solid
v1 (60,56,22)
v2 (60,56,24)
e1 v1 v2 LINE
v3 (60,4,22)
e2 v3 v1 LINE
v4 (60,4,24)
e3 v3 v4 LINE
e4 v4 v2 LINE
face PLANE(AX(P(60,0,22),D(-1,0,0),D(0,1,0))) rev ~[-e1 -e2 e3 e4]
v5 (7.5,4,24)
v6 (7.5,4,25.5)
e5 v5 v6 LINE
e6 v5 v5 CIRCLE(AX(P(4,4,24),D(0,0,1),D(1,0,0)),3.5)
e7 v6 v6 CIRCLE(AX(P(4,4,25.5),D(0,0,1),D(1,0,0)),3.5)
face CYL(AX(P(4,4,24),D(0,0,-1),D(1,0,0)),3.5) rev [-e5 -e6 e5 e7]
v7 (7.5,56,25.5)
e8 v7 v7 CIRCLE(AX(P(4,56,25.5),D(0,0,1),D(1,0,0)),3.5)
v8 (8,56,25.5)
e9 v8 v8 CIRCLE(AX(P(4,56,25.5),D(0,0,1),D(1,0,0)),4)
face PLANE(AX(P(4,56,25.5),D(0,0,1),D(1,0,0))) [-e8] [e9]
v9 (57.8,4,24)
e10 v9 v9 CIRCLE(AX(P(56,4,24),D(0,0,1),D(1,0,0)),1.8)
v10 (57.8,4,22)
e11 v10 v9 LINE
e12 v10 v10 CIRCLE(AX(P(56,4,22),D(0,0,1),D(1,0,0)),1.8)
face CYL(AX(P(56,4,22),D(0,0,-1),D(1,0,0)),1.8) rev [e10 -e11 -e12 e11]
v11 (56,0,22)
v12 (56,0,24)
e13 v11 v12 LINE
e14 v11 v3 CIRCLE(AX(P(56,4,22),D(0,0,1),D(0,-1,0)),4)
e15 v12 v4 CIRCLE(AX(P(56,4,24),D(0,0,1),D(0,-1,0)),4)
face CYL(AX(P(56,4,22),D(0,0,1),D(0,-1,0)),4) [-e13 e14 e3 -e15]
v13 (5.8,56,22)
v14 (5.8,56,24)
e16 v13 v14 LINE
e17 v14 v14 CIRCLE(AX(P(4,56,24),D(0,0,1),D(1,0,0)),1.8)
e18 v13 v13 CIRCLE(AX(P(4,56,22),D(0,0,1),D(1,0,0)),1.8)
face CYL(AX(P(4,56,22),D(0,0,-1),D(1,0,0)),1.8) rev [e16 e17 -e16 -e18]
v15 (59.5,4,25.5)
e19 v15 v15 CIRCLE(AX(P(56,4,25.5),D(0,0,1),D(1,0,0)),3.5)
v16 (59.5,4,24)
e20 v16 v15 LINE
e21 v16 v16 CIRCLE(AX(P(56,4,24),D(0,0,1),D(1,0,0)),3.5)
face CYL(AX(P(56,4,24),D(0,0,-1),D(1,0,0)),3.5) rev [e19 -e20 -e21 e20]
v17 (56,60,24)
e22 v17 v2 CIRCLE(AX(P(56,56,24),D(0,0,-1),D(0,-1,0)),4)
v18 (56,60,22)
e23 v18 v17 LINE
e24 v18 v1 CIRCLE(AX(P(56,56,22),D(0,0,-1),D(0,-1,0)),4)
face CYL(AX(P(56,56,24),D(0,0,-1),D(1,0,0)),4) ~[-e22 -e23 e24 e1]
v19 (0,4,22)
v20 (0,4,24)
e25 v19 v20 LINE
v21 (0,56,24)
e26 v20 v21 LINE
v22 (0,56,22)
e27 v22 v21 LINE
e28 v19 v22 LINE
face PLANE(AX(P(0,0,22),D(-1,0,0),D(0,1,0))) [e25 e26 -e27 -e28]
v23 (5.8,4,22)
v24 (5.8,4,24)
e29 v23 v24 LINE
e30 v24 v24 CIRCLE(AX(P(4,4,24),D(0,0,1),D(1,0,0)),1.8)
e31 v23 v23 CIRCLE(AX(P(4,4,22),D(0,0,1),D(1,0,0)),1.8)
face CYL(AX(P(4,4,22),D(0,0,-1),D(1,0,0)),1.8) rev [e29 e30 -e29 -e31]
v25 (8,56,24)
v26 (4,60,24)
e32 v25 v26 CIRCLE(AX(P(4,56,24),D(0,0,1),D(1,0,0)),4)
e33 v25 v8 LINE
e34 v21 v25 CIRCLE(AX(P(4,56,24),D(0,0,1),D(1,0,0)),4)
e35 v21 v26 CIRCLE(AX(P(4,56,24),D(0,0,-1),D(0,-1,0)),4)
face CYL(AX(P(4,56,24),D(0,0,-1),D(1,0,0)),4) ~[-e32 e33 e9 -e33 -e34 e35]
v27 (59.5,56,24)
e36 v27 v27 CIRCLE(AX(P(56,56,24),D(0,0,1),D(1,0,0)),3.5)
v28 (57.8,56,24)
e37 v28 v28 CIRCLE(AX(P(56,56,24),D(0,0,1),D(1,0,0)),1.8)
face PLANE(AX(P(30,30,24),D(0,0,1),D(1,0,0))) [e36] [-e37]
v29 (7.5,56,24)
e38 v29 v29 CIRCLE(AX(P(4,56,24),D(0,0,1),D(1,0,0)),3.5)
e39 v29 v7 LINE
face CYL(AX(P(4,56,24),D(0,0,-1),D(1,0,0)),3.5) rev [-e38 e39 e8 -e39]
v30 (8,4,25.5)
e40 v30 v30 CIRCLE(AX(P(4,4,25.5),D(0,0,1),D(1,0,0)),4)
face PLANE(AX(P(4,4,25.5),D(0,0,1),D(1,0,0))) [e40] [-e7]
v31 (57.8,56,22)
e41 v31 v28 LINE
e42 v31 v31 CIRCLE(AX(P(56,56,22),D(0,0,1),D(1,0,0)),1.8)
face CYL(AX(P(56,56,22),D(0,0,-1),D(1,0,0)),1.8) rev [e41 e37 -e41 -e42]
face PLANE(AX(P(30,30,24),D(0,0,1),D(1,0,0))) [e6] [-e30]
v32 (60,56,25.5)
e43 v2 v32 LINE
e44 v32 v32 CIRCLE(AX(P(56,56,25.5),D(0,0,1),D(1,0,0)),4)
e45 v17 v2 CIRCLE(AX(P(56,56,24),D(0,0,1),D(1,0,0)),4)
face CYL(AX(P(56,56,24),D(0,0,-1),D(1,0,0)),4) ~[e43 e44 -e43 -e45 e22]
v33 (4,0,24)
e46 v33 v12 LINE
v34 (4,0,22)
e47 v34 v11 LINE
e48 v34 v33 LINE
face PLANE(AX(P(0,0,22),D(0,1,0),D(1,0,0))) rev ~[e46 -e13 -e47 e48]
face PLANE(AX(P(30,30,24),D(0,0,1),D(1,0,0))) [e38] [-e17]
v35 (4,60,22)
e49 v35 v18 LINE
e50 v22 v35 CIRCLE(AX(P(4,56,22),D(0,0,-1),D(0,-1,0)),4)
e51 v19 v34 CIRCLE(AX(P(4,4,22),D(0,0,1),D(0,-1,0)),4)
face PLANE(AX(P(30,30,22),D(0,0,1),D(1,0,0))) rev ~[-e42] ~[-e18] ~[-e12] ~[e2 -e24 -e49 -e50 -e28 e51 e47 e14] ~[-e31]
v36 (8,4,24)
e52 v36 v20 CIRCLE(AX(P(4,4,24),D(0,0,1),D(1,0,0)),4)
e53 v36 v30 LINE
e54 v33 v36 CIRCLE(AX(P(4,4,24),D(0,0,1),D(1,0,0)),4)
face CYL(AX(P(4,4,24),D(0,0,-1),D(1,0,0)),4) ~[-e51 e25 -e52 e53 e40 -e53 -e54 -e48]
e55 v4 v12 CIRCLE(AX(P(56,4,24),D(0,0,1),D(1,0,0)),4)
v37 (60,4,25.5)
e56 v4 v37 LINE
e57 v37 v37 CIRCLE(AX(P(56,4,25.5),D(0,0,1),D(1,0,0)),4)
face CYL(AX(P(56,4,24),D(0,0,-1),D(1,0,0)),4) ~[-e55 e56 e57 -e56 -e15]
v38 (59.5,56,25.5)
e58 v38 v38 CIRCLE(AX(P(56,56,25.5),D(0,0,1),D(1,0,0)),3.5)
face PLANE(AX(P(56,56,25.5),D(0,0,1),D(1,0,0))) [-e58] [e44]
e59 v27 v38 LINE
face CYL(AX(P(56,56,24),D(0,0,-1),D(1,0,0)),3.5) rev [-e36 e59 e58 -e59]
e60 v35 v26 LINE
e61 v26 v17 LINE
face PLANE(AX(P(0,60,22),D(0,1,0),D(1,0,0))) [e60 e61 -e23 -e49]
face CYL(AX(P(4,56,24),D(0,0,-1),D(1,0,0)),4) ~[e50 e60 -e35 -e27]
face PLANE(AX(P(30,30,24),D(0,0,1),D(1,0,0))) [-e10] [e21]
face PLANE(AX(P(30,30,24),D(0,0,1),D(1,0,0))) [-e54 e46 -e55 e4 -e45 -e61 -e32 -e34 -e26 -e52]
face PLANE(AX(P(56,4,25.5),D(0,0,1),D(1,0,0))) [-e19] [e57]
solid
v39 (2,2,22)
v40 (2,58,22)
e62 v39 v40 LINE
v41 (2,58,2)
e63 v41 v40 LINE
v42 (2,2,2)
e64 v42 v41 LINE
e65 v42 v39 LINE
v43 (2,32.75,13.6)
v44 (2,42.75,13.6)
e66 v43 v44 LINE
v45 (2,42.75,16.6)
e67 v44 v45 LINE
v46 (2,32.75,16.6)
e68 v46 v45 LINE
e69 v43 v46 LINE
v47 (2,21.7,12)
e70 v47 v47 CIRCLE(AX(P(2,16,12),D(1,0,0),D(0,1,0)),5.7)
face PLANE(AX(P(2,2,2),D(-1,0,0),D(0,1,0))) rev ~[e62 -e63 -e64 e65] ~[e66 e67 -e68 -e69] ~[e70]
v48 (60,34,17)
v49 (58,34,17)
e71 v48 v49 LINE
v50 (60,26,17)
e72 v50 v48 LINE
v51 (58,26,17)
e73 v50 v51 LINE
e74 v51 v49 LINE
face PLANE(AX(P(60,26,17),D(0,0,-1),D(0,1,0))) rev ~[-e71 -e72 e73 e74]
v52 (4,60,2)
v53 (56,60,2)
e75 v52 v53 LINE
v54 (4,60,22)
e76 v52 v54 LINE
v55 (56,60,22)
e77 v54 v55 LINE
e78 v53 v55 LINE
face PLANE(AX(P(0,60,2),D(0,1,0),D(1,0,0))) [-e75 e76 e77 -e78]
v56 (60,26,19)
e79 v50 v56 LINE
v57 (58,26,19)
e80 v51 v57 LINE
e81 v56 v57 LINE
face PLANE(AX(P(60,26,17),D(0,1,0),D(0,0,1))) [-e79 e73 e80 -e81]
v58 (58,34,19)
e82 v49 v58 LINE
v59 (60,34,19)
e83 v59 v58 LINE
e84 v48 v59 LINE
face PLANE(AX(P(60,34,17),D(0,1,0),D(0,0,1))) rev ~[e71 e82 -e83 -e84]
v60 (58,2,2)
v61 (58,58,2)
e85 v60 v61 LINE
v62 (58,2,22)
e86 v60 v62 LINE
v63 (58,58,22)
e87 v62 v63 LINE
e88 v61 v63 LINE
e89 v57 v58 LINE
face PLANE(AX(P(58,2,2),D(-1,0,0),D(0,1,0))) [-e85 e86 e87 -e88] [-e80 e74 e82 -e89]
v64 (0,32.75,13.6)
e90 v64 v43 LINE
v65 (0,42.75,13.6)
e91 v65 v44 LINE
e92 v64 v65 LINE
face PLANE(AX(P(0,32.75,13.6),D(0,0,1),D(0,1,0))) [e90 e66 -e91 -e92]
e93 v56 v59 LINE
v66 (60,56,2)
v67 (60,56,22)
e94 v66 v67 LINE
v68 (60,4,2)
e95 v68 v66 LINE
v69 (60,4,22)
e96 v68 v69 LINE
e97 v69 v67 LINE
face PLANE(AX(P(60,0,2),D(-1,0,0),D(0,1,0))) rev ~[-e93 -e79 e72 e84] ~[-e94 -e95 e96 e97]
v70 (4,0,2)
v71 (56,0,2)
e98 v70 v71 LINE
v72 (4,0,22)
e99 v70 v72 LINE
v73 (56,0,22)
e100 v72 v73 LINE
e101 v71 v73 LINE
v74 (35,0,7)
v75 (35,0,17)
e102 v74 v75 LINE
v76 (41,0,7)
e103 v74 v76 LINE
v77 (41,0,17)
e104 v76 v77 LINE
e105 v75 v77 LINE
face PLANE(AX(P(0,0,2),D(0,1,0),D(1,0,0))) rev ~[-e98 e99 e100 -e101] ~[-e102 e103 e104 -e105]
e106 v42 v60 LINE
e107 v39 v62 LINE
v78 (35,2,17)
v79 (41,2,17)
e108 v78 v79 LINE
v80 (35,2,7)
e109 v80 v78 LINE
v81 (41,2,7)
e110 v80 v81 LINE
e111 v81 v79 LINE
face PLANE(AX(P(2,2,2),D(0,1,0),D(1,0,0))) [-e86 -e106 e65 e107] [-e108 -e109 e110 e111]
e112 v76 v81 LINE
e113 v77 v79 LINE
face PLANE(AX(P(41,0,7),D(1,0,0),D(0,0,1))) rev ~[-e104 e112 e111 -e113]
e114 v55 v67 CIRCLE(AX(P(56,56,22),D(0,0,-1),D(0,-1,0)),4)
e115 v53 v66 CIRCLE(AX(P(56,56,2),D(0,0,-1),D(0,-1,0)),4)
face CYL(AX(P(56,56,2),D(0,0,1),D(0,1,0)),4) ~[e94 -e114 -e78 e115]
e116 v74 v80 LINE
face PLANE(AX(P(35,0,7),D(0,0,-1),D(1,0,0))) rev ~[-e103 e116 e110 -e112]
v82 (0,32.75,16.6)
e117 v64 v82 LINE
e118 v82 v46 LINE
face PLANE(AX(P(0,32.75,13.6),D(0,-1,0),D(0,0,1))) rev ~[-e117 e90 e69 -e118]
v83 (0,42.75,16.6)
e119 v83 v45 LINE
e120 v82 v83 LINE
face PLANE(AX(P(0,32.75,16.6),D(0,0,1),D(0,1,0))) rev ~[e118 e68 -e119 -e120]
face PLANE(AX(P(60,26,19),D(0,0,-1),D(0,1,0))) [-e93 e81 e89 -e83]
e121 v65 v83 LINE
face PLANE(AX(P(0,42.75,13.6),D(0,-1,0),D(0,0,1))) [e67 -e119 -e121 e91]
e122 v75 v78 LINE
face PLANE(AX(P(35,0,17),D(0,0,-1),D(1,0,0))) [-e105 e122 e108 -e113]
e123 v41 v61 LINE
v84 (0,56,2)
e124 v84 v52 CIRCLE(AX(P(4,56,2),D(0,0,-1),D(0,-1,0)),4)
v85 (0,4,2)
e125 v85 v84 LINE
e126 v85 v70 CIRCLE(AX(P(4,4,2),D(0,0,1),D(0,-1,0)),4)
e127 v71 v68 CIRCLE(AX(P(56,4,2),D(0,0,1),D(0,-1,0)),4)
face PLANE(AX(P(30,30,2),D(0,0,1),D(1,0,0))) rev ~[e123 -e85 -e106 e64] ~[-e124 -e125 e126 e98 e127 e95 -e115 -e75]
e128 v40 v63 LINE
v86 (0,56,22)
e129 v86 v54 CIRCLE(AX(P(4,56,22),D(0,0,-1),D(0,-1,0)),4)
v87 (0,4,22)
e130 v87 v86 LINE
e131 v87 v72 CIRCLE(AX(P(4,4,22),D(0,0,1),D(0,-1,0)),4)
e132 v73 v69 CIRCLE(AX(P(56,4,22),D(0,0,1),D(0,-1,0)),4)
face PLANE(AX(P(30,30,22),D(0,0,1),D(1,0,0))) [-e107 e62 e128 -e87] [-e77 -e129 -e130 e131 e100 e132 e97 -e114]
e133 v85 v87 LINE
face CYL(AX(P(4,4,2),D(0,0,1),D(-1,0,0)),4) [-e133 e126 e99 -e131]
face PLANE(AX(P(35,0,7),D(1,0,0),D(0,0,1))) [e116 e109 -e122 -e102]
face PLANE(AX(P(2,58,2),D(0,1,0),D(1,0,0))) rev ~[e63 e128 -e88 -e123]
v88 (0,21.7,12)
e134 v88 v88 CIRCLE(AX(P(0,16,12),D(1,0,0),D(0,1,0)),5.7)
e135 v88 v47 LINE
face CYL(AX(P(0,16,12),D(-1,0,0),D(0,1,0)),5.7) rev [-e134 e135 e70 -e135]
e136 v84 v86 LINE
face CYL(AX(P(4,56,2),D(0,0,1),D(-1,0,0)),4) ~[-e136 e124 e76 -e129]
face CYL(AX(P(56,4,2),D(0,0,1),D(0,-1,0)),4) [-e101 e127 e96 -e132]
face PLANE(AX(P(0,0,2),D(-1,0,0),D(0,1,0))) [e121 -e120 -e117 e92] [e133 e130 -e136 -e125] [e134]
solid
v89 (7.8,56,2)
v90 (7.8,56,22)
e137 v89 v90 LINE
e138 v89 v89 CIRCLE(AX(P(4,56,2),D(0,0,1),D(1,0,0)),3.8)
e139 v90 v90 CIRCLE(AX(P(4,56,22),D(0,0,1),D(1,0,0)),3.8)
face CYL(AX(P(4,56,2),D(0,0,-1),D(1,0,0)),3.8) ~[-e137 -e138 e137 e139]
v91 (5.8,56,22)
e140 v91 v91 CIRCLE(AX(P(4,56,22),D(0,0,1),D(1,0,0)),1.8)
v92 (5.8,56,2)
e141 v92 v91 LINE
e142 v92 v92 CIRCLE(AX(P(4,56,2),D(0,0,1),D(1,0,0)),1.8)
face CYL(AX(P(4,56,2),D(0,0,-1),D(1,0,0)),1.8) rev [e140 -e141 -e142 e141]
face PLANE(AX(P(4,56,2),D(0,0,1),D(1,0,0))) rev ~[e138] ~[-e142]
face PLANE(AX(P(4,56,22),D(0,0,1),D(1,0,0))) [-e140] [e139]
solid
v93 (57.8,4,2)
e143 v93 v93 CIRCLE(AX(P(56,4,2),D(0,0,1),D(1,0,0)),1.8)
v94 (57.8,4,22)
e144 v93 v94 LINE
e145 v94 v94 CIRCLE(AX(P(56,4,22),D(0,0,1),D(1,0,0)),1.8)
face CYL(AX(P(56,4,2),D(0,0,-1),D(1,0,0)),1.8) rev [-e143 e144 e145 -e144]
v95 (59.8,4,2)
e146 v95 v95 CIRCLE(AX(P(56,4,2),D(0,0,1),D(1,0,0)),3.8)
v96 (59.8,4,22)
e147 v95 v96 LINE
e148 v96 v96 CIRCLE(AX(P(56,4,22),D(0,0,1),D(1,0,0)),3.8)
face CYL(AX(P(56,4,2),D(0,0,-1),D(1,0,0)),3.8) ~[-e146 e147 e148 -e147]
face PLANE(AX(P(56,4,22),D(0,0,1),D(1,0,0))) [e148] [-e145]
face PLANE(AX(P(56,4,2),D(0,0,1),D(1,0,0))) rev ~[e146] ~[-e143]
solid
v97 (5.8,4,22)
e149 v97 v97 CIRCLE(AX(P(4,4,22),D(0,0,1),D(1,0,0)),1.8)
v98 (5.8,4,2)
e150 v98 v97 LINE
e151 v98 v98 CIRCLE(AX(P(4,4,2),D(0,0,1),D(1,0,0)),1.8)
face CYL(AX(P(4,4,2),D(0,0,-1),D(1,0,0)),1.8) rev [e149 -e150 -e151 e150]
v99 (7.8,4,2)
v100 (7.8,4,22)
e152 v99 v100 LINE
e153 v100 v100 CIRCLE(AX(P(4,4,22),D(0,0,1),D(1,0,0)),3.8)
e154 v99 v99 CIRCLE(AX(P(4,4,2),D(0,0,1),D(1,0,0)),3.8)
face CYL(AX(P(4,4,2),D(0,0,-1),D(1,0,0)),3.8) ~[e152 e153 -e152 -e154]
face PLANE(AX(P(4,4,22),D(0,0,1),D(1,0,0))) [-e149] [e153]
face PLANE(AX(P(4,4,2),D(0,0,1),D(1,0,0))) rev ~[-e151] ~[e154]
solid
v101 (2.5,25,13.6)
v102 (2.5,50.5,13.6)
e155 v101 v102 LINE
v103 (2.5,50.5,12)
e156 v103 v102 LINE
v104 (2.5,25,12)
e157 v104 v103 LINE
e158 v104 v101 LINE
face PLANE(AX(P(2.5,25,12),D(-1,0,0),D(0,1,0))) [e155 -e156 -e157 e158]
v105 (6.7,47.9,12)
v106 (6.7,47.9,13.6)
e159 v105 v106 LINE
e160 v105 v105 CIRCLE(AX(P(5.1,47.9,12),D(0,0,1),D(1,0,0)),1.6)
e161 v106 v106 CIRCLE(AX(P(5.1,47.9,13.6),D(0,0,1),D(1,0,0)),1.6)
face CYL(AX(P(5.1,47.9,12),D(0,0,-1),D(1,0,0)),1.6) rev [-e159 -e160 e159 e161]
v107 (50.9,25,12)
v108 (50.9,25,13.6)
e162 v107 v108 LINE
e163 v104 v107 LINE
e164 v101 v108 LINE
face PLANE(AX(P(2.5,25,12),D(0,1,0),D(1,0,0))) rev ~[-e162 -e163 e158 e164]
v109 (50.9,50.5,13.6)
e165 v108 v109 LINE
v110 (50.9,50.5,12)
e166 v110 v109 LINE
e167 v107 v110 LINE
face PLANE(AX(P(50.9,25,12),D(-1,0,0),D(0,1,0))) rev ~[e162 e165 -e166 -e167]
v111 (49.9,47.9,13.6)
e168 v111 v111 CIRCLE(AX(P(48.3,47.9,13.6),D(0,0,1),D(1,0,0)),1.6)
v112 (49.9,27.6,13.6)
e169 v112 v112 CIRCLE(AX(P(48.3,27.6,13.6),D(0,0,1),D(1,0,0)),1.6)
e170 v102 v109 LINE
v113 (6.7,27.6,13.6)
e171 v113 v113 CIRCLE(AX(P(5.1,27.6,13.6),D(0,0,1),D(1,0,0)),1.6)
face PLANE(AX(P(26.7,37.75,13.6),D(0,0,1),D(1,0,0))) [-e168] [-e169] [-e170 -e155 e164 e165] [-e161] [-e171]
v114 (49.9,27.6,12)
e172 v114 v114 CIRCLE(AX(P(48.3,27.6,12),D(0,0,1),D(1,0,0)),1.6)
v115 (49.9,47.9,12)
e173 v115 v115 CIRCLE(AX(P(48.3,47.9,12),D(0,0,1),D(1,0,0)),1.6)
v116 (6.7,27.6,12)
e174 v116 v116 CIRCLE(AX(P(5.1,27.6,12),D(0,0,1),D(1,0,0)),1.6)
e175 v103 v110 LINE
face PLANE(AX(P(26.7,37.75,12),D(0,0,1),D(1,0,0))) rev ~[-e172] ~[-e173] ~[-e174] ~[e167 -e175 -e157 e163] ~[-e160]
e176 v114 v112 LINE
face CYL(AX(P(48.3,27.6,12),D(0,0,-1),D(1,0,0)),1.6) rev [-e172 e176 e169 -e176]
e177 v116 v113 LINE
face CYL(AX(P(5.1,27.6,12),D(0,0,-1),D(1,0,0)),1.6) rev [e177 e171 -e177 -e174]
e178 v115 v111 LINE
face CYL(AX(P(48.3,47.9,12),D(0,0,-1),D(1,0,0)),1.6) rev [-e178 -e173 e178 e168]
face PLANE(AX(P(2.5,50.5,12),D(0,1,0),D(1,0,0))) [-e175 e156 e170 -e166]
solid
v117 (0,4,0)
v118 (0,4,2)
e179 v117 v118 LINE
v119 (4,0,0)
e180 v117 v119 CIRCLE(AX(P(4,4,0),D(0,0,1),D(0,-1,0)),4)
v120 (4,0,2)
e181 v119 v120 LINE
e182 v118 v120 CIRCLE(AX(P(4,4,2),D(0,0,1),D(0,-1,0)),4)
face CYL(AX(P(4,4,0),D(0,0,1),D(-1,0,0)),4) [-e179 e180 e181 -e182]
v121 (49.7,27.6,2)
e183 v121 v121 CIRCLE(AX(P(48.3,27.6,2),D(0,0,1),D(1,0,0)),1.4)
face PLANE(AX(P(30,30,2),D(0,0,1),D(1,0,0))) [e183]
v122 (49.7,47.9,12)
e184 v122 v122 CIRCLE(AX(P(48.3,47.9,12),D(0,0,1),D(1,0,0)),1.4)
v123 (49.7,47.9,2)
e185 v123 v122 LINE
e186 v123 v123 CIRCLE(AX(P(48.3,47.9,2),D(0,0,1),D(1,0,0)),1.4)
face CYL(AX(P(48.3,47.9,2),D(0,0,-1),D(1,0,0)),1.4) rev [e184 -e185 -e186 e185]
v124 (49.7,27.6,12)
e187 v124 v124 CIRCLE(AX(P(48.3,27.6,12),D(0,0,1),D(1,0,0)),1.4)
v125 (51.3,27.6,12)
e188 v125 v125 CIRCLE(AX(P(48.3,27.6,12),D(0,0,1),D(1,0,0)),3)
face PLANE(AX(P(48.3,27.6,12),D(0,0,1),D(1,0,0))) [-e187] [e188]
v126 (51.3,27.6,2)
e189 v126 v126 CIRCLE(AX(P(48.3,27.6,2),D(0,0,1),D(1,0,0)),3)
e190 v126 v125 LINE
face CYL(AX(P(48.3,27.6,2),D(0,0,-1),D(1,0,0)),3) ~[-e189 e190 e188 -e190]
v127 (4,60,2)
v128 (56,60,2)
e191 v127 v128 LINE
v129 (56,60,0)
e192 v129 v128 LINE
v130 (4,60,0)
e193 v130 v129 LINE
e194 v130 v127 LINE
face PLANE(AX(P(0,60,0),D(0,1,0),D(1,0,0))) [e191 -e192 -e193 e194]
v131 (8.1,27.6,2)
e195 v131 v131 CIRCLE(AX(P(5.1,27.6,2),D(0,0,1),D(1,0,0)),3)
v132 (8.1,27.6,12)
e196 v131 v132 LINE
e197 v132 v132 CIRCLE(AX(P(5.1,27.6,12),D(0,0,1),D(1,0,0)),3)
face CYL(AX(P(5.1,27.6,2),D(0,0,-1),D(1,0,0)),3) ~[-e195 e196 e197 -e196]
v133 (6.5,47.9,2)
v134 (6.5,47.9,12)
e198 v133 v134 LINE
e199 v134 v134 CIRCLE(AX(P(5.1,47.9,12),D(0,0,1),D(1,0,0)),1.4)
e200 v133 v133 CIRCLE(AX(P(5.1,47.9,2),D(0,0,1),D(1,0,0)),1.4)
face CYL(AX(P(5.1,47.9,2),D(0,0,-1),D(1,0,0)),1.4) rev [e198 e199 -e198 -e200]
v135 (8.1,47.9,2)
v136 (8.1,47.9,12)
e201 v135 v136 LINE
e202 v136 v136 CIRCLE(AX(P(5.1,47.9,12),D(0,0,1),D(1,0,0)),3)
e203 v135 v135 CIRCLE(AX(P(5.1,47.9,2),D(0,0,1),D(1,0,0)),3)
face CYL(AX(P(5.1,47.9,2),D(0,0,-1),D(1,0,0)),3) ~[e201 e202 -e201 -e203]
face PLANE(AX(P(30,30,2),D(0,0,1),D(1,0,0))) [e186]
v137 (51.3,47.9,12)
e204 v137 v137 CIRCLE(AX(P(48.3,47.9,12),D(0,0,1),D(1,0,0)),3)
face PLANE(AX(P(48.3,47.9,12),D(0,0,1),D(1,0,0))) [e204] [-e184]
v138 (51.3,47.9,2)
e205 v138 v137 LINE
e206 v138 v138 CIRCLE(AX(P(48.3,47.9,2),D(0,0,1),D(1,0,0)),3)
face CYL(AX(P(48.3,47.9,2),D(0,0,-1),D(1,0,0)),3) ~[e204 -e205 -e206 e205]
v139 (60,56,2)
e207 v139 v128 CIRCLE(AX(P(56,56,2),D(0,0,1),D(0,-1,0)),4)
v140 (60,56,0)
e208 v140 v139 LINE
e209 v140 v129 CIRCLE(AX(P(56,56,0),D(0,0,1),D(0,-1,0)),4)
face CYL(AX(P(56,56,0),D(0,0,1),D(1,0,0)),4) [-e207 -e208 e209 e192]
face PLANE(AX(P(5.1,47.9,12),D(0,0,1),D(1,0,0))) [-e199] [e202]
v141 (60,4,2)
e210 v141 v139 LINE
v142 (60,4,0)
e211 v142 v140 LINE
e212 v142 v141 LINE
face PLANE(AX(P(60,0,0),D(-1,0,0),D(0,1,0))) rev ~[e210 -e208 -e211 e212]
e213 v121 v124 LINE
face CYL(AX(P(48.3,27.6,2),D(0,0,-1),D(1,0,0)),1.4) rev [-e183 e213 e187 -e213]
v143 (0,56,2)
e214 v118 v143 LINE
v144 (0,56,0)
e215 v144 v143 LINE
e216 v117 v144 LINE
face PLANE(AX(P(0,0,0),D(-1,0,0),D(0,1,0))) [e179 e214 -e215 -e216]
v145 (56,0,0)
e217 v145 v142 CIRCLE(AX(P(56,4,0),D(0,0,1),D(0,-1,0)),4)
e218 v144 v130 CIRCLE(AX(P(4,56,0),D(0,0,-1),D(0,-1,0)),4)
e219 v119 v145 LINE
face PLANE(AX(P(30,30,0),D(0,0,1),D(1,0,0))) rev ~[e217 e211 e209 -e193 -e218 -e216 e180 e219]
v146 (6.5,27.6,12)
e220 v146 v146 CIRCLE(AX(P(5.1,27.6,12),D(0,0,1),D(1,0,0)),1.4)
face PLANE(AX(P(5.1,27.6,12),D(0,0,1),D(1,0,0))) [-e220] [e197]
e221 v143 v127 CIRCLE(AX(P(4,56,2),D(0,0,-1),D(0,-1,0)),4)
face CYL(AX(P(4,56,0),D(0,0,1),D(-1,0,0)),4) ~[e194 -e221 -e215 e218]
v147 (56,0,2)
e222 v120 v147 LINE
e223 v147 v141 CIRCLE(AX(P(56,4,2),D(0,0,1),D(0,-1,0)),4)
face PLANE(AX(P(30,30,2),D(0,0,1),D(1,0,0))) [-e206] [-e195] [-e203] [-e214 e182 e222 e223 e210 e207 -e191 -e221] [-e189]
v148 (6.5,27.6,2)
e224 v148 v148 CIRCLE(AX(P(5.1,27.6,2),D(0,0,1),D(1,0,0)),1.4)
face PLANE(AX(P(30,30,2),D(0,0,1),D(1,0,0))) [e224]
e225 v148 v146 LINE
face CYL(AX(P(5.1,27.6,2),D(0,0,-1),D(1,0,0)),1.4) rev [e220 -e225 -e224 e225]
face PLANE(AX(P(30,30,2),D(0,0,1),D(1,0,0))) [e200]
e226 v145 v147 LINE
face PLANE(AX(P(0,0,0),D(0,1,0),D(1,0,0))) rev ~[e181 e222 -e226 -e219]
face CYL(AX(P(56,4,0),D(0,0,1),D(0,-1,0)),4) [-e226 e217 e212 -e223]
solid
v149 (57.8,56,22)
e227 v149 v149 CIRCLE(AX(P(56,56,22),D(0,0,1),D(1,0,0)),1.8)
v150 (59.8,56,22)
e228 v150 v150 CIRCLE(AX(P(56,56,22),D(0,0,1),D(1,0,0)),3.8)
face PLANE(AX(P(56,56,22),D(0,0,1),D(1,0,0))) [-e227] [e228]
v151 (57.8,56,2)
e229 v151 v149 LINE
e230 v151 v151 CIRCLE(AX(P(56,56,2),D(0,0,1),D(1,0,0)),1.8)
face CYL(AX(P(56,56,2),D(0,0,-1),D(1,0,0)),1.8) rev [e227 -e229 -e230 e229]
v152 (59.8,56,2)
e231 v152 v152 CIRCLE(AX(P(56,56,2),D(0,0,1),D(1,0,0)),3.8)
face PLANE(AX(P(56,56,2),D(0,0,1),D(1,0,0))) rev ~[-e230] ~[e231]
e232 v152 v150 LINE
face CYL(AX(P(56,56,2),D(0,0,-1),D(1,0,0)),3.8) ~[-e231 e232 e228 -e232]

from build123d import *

# Parameters (mm, degrees)
SKETCH_W        = 48.4
SKETCH_H        = 25.5
SKETCH_R        = 1.6
PAD007_DEPTH    = 1.6
SKETCH001_W     = 60
SKETCH001_H     = 60
PAD_DEPTH       = 2
FILLET002_R     = 4
SKETCH008_R     = 3
SKETCH008_R_2   = 1.4
PAD008_DEPTH    = 10
SKETCH002_W     = 60
SKETCH002_H     = 60
SKETCH002_W_2   = 56
SKETCH002_H_2   = 56
PAD006_DEPTH    = 20
FILLET_R        = 4
SKETCH003_R     = 5.7
POCKET_DEPTH    = 2
SKETCH009_W     = 10
SKETCH009_H     = 3
POCKET001_DEPTH = 2
SKETCH010_W     = 8
SKETCH010_H     = 2
POCKET002_DEPTH = 2
SKETCH011_W     = 6
SKETCH011_H     = 10
POCKET003_DEPTH = 2
SKETCH005_R     = 3.8
SKETCH005_R_2   = 1.8
PAD003_DEPTH    = 20
SKETCH006_R     = 3.8
SKETCH006_R_2   = 1.8
PAD004_DEPTH    = 20
SKETCH007_R     = 3.8
SKETCH007_R_2   = 1.8
PAD005_DEPTH    = 20
SKETCH004_R     = 3.8
SKETCH004_R_2   = 1.8
PAD002_DEPTH    = 20
SKETCH012_W     = 60
SKETCH012_H     = 60
SKETCH012_R     = 1.8
PAD009_DEPTH    = 2
FILLET003_R     = 4
SKETCH013_R     = 4
SKETCH013_R_2   = 3.5
PAD010_DEPTH    = 1.5


with BuildPart() as esp:
    # Sketch → Pad007 (new body)
    with BuildSketch(Plane.XY.offset(12)):
        with Locations((26.7, 37.75)):
            Rectangle(SKETCH_W, SKETCH_H)
        with Locations((5.1, 47.9)):
            Circle(SKETCH_R, mode=Mode.SUBTRACT)
        with Locations((5.1, 27.6)):
            Circle(SKETCH_R, mode=Mode.SUBTRACT)
        with Locations((48.3, 47.9)):
            Circle(SKETCH_R, mode=Mode.SUBTRACT)
        with Locations((48.3, 27.6)):
            Circle(SKETCH_R, mode=Mode.SUBTRACT)
    extrude(amount=PAD007_DEPTH)


with BuildPart() as bottombox:
    # Sketch001 → Pad (new body)
    with BuildSketch(Plane.XY):
        with Locations((30, 30)):
            Rectangle(SKETCH001_W, SKETCH001_H)
    extrude(amount=PAD_DEPTH)

    # Fillet002
    fillet002_edges = [bottombox.edges().sort_by_distance(p)[0] for p in [
        (0, 0, 1),
        (0, 60, 1),
        (60, 60, 1),
        (60, 0, 1),
    ]]
    fillet(fillet002_edges, radius=FILLET002_R)

    # Sketch008 → Pad008 (join)
    with BuildSketch(Plane.XY.offset(2)):
        with Locations((5.1, 47.9)):
            Circle(SKETCH008_R)
        with Locations((5.1, 47.9)):
            Circle(SKETCH008_R_2, mode=Mode.SUBTRACT)
        with Locations((48.3, 47.9)):
            Circle(SKETCH008_R)
        with Locations((48.3, 47.9)):
            Circle(SKETCH008_R_2, mode=Mode.SUBTRACT)
        with Locations((48.3, 27.6)):
            Circle(SKETCH008_R)
        with Locations((48.3, 27.6)):
            Circle(SKETCH008_R_2, mode=Mode.SUBTRACT)
        with Locations((5.1, 27.6)):
            Circle(SKETCH008_R)
        with Locations((5.1, 27.6)):
            Circle(SKETCH008_R_2, mode=Mode.SUBTRACT)
    extrude(amount=PAD008_DEPTH)


with BuildPart() as boxsides:
    # Sketch002 → Pad006 (new body)
    with BuildSketch(Plane.XY):
        with Locations((30, 30)):
            Rectangle(SKETCH002_W, SKETCH002_H)
        with Locations((30, 30)):
            Rectangle(SKETCH002_W_2, SKETCH002_H_2, mode=Mode.SUBTRACT)
    extrude(amount=PAD006_DEPTH)

    # Fillet
    fillet_edges = [boxsides.edges().sort_by_distance(p)[0] for p in [
        (0, 0, 10),
        (60, 0, 10),
        (0, 60, 10),
        (60, 60, 10),
    ]]
    fillet(fillet_edges, radius=FILLET_R)

    # Sketch003 → Pocket (cut)
    with BuildSketch(Plane.YZ):
        with Locations((16, 10)):
            Circle(SKETCH003_R)
    extrude(amount=POCKET_DEPTH, mode=Mode.SUBTRACT)

    # Sketch009 → Pocket001 (cut)
    with BuildSketch(Plane.YZ):
        with Locations((37.75, 13.1)):
            Rectangle(SKETCH009_W, SKETCH009_H)
    extrude(amount=POCKET001_DEPTH, mode=Mode.SUBTRACT)

    # Sketch010 → Pocket002 (cut)
    with BuildSketch(Plane.YZ.offset(60)):
        with Locations((30, 16)):
            Rectangle(SKETCH010_W, SKETCH010_H)
    extrude(amount=-POCKET002_DEPTH, mode=Mode.SUBTRACT)

    # Sketch011 → Pocket003 (cut)
    with BuildSketch(Plane.XZ):
        with Locations((38, 10)):
            Rectangle(SKETCH011_W, SKETCH011_H)
    extrude(amount=-POCKET003_DEPTH, mode=Mode.SUBTRACT)


with BuildPart() as boxsides_1:
    # Body002 placement: moved
    add(boxsides.part.moved(Location((0, 0, 2))))


with BuildPart() as body004:
    # Sketch005 → Pad003 (new body)
    with BuildSketch(Plane.XY.offset(2)):
        with Locations((56, 4)):
            Circle(SKETCH005_R)
        with Locations((56, 4)):
            Circle(SKETCH005_R_2, mode=Mode.SUBTRACT)
    extrude(amount=PAD003_DEPTH)


with BuildPart() as body005:
    # Sketch006 → Pad004 (new body)
    with BuildSketch(Plane.XY.offset(2)):
        with Locations((4, 56)):
            Circle(SKETCH006_R)
        with Locations((4, 56)):
            Circle(SKETCH006_R_2, mode=Mode.SUBTRACT)
    extrude(amount=PAD004_DEPTH)


with BuildPart() as body006:
    # Sketch007 → Pad005 (new body)
    with BuildSketch(Plane.XY.offset(2)):
        with Locations((56, 56)):
            Circle(SKETCH007_R)
        with Locations((56, 56)):
            Circle(SKETCH007_R_2, mode=Mode.SUBTRACT)
    extrude(amount=PAD005_DEPTH)


with BuildPart() as body003:
    # Sketch004 → Pad002 (new body)
    with BuildSketch(Plane.XY.offset(2)):
        with Locations((4, 4)):
            Circle(SKETCH004_R)
        with Locations((4, 4)):
            Circle(SKETCH004_R_2, mode=Mode.SUBTRACT)
    extrude(amount=PAD002_DEPTH)


with BuildPart() as top:
    # Sketch012 → Pad009 (new body)
    with BuildSketch(Plane.XY.offset(22)):
        with Locations((30, 30)):
            Rectangle(SKETCH012_W, SKETCH012_H)
        with Locations((4, 4)):
            Circle(SKETCH012_R, mode=Mode.SUBTRACT)
        with Locations((56, 4)):
            Circle(SKETCH012_R, mode=Mode.SUBTRACT)
        with Locations((56, 56)):
            Circle(SKETCH012_R, mode=Mode.SUBTRACT)
        with Locations((4, 56)):
            Circle(SKETCH012_R, mode=Mode.SUBTRACT)
    extrude(amount=PAD009_DEPTH)

    # Fillet003
    fillet003_edges = [top.edges().sort_by_distance(p)[0] for p in [
        (0, 0, 23),
        (0, 60, 23),
        (60, 60, 23),
        (60, 0, 23),
    ]]
    fillet(fillet003_edges, radius=FILLET003_R)

    # Sketch013 → Pad010 (join)
    with BuildSketch(Plane.XY.offset(24)):
        with Locations((4, 4)):
            Circle(SKETCH013_R)
        with Locations((4, 4)):
            Circle(SKETCH013_R_2, mode=Mode.SUBTRACT)
        with Locations((56, 4)):
            Circle(SKETCH013_R)
        with Locations((56, 4)):
            Circle(SKETCH013_R_2, mode=Mode.SUBTRACT)
        with Locations((4, 56)):
            Circle(SKETCH013_R)
        with Locations((4, 56)):
            Circle(SKETCH013_R_2, mode=Mode.SUBTRACT)
        with Locations((56, 56)):
            Circle(SKETCH013_R)
        with Locations((56, 56)):
            Circle(SKETCH013_R_2, mode=Mode.SUBTRACT)
    extrude(amount=PAD010_DEPTH)


solid = Compound([esp.part, bottombox.part, boxsides_1.part, body004.part, body005.part, body006.part, body003.part, top.part])
